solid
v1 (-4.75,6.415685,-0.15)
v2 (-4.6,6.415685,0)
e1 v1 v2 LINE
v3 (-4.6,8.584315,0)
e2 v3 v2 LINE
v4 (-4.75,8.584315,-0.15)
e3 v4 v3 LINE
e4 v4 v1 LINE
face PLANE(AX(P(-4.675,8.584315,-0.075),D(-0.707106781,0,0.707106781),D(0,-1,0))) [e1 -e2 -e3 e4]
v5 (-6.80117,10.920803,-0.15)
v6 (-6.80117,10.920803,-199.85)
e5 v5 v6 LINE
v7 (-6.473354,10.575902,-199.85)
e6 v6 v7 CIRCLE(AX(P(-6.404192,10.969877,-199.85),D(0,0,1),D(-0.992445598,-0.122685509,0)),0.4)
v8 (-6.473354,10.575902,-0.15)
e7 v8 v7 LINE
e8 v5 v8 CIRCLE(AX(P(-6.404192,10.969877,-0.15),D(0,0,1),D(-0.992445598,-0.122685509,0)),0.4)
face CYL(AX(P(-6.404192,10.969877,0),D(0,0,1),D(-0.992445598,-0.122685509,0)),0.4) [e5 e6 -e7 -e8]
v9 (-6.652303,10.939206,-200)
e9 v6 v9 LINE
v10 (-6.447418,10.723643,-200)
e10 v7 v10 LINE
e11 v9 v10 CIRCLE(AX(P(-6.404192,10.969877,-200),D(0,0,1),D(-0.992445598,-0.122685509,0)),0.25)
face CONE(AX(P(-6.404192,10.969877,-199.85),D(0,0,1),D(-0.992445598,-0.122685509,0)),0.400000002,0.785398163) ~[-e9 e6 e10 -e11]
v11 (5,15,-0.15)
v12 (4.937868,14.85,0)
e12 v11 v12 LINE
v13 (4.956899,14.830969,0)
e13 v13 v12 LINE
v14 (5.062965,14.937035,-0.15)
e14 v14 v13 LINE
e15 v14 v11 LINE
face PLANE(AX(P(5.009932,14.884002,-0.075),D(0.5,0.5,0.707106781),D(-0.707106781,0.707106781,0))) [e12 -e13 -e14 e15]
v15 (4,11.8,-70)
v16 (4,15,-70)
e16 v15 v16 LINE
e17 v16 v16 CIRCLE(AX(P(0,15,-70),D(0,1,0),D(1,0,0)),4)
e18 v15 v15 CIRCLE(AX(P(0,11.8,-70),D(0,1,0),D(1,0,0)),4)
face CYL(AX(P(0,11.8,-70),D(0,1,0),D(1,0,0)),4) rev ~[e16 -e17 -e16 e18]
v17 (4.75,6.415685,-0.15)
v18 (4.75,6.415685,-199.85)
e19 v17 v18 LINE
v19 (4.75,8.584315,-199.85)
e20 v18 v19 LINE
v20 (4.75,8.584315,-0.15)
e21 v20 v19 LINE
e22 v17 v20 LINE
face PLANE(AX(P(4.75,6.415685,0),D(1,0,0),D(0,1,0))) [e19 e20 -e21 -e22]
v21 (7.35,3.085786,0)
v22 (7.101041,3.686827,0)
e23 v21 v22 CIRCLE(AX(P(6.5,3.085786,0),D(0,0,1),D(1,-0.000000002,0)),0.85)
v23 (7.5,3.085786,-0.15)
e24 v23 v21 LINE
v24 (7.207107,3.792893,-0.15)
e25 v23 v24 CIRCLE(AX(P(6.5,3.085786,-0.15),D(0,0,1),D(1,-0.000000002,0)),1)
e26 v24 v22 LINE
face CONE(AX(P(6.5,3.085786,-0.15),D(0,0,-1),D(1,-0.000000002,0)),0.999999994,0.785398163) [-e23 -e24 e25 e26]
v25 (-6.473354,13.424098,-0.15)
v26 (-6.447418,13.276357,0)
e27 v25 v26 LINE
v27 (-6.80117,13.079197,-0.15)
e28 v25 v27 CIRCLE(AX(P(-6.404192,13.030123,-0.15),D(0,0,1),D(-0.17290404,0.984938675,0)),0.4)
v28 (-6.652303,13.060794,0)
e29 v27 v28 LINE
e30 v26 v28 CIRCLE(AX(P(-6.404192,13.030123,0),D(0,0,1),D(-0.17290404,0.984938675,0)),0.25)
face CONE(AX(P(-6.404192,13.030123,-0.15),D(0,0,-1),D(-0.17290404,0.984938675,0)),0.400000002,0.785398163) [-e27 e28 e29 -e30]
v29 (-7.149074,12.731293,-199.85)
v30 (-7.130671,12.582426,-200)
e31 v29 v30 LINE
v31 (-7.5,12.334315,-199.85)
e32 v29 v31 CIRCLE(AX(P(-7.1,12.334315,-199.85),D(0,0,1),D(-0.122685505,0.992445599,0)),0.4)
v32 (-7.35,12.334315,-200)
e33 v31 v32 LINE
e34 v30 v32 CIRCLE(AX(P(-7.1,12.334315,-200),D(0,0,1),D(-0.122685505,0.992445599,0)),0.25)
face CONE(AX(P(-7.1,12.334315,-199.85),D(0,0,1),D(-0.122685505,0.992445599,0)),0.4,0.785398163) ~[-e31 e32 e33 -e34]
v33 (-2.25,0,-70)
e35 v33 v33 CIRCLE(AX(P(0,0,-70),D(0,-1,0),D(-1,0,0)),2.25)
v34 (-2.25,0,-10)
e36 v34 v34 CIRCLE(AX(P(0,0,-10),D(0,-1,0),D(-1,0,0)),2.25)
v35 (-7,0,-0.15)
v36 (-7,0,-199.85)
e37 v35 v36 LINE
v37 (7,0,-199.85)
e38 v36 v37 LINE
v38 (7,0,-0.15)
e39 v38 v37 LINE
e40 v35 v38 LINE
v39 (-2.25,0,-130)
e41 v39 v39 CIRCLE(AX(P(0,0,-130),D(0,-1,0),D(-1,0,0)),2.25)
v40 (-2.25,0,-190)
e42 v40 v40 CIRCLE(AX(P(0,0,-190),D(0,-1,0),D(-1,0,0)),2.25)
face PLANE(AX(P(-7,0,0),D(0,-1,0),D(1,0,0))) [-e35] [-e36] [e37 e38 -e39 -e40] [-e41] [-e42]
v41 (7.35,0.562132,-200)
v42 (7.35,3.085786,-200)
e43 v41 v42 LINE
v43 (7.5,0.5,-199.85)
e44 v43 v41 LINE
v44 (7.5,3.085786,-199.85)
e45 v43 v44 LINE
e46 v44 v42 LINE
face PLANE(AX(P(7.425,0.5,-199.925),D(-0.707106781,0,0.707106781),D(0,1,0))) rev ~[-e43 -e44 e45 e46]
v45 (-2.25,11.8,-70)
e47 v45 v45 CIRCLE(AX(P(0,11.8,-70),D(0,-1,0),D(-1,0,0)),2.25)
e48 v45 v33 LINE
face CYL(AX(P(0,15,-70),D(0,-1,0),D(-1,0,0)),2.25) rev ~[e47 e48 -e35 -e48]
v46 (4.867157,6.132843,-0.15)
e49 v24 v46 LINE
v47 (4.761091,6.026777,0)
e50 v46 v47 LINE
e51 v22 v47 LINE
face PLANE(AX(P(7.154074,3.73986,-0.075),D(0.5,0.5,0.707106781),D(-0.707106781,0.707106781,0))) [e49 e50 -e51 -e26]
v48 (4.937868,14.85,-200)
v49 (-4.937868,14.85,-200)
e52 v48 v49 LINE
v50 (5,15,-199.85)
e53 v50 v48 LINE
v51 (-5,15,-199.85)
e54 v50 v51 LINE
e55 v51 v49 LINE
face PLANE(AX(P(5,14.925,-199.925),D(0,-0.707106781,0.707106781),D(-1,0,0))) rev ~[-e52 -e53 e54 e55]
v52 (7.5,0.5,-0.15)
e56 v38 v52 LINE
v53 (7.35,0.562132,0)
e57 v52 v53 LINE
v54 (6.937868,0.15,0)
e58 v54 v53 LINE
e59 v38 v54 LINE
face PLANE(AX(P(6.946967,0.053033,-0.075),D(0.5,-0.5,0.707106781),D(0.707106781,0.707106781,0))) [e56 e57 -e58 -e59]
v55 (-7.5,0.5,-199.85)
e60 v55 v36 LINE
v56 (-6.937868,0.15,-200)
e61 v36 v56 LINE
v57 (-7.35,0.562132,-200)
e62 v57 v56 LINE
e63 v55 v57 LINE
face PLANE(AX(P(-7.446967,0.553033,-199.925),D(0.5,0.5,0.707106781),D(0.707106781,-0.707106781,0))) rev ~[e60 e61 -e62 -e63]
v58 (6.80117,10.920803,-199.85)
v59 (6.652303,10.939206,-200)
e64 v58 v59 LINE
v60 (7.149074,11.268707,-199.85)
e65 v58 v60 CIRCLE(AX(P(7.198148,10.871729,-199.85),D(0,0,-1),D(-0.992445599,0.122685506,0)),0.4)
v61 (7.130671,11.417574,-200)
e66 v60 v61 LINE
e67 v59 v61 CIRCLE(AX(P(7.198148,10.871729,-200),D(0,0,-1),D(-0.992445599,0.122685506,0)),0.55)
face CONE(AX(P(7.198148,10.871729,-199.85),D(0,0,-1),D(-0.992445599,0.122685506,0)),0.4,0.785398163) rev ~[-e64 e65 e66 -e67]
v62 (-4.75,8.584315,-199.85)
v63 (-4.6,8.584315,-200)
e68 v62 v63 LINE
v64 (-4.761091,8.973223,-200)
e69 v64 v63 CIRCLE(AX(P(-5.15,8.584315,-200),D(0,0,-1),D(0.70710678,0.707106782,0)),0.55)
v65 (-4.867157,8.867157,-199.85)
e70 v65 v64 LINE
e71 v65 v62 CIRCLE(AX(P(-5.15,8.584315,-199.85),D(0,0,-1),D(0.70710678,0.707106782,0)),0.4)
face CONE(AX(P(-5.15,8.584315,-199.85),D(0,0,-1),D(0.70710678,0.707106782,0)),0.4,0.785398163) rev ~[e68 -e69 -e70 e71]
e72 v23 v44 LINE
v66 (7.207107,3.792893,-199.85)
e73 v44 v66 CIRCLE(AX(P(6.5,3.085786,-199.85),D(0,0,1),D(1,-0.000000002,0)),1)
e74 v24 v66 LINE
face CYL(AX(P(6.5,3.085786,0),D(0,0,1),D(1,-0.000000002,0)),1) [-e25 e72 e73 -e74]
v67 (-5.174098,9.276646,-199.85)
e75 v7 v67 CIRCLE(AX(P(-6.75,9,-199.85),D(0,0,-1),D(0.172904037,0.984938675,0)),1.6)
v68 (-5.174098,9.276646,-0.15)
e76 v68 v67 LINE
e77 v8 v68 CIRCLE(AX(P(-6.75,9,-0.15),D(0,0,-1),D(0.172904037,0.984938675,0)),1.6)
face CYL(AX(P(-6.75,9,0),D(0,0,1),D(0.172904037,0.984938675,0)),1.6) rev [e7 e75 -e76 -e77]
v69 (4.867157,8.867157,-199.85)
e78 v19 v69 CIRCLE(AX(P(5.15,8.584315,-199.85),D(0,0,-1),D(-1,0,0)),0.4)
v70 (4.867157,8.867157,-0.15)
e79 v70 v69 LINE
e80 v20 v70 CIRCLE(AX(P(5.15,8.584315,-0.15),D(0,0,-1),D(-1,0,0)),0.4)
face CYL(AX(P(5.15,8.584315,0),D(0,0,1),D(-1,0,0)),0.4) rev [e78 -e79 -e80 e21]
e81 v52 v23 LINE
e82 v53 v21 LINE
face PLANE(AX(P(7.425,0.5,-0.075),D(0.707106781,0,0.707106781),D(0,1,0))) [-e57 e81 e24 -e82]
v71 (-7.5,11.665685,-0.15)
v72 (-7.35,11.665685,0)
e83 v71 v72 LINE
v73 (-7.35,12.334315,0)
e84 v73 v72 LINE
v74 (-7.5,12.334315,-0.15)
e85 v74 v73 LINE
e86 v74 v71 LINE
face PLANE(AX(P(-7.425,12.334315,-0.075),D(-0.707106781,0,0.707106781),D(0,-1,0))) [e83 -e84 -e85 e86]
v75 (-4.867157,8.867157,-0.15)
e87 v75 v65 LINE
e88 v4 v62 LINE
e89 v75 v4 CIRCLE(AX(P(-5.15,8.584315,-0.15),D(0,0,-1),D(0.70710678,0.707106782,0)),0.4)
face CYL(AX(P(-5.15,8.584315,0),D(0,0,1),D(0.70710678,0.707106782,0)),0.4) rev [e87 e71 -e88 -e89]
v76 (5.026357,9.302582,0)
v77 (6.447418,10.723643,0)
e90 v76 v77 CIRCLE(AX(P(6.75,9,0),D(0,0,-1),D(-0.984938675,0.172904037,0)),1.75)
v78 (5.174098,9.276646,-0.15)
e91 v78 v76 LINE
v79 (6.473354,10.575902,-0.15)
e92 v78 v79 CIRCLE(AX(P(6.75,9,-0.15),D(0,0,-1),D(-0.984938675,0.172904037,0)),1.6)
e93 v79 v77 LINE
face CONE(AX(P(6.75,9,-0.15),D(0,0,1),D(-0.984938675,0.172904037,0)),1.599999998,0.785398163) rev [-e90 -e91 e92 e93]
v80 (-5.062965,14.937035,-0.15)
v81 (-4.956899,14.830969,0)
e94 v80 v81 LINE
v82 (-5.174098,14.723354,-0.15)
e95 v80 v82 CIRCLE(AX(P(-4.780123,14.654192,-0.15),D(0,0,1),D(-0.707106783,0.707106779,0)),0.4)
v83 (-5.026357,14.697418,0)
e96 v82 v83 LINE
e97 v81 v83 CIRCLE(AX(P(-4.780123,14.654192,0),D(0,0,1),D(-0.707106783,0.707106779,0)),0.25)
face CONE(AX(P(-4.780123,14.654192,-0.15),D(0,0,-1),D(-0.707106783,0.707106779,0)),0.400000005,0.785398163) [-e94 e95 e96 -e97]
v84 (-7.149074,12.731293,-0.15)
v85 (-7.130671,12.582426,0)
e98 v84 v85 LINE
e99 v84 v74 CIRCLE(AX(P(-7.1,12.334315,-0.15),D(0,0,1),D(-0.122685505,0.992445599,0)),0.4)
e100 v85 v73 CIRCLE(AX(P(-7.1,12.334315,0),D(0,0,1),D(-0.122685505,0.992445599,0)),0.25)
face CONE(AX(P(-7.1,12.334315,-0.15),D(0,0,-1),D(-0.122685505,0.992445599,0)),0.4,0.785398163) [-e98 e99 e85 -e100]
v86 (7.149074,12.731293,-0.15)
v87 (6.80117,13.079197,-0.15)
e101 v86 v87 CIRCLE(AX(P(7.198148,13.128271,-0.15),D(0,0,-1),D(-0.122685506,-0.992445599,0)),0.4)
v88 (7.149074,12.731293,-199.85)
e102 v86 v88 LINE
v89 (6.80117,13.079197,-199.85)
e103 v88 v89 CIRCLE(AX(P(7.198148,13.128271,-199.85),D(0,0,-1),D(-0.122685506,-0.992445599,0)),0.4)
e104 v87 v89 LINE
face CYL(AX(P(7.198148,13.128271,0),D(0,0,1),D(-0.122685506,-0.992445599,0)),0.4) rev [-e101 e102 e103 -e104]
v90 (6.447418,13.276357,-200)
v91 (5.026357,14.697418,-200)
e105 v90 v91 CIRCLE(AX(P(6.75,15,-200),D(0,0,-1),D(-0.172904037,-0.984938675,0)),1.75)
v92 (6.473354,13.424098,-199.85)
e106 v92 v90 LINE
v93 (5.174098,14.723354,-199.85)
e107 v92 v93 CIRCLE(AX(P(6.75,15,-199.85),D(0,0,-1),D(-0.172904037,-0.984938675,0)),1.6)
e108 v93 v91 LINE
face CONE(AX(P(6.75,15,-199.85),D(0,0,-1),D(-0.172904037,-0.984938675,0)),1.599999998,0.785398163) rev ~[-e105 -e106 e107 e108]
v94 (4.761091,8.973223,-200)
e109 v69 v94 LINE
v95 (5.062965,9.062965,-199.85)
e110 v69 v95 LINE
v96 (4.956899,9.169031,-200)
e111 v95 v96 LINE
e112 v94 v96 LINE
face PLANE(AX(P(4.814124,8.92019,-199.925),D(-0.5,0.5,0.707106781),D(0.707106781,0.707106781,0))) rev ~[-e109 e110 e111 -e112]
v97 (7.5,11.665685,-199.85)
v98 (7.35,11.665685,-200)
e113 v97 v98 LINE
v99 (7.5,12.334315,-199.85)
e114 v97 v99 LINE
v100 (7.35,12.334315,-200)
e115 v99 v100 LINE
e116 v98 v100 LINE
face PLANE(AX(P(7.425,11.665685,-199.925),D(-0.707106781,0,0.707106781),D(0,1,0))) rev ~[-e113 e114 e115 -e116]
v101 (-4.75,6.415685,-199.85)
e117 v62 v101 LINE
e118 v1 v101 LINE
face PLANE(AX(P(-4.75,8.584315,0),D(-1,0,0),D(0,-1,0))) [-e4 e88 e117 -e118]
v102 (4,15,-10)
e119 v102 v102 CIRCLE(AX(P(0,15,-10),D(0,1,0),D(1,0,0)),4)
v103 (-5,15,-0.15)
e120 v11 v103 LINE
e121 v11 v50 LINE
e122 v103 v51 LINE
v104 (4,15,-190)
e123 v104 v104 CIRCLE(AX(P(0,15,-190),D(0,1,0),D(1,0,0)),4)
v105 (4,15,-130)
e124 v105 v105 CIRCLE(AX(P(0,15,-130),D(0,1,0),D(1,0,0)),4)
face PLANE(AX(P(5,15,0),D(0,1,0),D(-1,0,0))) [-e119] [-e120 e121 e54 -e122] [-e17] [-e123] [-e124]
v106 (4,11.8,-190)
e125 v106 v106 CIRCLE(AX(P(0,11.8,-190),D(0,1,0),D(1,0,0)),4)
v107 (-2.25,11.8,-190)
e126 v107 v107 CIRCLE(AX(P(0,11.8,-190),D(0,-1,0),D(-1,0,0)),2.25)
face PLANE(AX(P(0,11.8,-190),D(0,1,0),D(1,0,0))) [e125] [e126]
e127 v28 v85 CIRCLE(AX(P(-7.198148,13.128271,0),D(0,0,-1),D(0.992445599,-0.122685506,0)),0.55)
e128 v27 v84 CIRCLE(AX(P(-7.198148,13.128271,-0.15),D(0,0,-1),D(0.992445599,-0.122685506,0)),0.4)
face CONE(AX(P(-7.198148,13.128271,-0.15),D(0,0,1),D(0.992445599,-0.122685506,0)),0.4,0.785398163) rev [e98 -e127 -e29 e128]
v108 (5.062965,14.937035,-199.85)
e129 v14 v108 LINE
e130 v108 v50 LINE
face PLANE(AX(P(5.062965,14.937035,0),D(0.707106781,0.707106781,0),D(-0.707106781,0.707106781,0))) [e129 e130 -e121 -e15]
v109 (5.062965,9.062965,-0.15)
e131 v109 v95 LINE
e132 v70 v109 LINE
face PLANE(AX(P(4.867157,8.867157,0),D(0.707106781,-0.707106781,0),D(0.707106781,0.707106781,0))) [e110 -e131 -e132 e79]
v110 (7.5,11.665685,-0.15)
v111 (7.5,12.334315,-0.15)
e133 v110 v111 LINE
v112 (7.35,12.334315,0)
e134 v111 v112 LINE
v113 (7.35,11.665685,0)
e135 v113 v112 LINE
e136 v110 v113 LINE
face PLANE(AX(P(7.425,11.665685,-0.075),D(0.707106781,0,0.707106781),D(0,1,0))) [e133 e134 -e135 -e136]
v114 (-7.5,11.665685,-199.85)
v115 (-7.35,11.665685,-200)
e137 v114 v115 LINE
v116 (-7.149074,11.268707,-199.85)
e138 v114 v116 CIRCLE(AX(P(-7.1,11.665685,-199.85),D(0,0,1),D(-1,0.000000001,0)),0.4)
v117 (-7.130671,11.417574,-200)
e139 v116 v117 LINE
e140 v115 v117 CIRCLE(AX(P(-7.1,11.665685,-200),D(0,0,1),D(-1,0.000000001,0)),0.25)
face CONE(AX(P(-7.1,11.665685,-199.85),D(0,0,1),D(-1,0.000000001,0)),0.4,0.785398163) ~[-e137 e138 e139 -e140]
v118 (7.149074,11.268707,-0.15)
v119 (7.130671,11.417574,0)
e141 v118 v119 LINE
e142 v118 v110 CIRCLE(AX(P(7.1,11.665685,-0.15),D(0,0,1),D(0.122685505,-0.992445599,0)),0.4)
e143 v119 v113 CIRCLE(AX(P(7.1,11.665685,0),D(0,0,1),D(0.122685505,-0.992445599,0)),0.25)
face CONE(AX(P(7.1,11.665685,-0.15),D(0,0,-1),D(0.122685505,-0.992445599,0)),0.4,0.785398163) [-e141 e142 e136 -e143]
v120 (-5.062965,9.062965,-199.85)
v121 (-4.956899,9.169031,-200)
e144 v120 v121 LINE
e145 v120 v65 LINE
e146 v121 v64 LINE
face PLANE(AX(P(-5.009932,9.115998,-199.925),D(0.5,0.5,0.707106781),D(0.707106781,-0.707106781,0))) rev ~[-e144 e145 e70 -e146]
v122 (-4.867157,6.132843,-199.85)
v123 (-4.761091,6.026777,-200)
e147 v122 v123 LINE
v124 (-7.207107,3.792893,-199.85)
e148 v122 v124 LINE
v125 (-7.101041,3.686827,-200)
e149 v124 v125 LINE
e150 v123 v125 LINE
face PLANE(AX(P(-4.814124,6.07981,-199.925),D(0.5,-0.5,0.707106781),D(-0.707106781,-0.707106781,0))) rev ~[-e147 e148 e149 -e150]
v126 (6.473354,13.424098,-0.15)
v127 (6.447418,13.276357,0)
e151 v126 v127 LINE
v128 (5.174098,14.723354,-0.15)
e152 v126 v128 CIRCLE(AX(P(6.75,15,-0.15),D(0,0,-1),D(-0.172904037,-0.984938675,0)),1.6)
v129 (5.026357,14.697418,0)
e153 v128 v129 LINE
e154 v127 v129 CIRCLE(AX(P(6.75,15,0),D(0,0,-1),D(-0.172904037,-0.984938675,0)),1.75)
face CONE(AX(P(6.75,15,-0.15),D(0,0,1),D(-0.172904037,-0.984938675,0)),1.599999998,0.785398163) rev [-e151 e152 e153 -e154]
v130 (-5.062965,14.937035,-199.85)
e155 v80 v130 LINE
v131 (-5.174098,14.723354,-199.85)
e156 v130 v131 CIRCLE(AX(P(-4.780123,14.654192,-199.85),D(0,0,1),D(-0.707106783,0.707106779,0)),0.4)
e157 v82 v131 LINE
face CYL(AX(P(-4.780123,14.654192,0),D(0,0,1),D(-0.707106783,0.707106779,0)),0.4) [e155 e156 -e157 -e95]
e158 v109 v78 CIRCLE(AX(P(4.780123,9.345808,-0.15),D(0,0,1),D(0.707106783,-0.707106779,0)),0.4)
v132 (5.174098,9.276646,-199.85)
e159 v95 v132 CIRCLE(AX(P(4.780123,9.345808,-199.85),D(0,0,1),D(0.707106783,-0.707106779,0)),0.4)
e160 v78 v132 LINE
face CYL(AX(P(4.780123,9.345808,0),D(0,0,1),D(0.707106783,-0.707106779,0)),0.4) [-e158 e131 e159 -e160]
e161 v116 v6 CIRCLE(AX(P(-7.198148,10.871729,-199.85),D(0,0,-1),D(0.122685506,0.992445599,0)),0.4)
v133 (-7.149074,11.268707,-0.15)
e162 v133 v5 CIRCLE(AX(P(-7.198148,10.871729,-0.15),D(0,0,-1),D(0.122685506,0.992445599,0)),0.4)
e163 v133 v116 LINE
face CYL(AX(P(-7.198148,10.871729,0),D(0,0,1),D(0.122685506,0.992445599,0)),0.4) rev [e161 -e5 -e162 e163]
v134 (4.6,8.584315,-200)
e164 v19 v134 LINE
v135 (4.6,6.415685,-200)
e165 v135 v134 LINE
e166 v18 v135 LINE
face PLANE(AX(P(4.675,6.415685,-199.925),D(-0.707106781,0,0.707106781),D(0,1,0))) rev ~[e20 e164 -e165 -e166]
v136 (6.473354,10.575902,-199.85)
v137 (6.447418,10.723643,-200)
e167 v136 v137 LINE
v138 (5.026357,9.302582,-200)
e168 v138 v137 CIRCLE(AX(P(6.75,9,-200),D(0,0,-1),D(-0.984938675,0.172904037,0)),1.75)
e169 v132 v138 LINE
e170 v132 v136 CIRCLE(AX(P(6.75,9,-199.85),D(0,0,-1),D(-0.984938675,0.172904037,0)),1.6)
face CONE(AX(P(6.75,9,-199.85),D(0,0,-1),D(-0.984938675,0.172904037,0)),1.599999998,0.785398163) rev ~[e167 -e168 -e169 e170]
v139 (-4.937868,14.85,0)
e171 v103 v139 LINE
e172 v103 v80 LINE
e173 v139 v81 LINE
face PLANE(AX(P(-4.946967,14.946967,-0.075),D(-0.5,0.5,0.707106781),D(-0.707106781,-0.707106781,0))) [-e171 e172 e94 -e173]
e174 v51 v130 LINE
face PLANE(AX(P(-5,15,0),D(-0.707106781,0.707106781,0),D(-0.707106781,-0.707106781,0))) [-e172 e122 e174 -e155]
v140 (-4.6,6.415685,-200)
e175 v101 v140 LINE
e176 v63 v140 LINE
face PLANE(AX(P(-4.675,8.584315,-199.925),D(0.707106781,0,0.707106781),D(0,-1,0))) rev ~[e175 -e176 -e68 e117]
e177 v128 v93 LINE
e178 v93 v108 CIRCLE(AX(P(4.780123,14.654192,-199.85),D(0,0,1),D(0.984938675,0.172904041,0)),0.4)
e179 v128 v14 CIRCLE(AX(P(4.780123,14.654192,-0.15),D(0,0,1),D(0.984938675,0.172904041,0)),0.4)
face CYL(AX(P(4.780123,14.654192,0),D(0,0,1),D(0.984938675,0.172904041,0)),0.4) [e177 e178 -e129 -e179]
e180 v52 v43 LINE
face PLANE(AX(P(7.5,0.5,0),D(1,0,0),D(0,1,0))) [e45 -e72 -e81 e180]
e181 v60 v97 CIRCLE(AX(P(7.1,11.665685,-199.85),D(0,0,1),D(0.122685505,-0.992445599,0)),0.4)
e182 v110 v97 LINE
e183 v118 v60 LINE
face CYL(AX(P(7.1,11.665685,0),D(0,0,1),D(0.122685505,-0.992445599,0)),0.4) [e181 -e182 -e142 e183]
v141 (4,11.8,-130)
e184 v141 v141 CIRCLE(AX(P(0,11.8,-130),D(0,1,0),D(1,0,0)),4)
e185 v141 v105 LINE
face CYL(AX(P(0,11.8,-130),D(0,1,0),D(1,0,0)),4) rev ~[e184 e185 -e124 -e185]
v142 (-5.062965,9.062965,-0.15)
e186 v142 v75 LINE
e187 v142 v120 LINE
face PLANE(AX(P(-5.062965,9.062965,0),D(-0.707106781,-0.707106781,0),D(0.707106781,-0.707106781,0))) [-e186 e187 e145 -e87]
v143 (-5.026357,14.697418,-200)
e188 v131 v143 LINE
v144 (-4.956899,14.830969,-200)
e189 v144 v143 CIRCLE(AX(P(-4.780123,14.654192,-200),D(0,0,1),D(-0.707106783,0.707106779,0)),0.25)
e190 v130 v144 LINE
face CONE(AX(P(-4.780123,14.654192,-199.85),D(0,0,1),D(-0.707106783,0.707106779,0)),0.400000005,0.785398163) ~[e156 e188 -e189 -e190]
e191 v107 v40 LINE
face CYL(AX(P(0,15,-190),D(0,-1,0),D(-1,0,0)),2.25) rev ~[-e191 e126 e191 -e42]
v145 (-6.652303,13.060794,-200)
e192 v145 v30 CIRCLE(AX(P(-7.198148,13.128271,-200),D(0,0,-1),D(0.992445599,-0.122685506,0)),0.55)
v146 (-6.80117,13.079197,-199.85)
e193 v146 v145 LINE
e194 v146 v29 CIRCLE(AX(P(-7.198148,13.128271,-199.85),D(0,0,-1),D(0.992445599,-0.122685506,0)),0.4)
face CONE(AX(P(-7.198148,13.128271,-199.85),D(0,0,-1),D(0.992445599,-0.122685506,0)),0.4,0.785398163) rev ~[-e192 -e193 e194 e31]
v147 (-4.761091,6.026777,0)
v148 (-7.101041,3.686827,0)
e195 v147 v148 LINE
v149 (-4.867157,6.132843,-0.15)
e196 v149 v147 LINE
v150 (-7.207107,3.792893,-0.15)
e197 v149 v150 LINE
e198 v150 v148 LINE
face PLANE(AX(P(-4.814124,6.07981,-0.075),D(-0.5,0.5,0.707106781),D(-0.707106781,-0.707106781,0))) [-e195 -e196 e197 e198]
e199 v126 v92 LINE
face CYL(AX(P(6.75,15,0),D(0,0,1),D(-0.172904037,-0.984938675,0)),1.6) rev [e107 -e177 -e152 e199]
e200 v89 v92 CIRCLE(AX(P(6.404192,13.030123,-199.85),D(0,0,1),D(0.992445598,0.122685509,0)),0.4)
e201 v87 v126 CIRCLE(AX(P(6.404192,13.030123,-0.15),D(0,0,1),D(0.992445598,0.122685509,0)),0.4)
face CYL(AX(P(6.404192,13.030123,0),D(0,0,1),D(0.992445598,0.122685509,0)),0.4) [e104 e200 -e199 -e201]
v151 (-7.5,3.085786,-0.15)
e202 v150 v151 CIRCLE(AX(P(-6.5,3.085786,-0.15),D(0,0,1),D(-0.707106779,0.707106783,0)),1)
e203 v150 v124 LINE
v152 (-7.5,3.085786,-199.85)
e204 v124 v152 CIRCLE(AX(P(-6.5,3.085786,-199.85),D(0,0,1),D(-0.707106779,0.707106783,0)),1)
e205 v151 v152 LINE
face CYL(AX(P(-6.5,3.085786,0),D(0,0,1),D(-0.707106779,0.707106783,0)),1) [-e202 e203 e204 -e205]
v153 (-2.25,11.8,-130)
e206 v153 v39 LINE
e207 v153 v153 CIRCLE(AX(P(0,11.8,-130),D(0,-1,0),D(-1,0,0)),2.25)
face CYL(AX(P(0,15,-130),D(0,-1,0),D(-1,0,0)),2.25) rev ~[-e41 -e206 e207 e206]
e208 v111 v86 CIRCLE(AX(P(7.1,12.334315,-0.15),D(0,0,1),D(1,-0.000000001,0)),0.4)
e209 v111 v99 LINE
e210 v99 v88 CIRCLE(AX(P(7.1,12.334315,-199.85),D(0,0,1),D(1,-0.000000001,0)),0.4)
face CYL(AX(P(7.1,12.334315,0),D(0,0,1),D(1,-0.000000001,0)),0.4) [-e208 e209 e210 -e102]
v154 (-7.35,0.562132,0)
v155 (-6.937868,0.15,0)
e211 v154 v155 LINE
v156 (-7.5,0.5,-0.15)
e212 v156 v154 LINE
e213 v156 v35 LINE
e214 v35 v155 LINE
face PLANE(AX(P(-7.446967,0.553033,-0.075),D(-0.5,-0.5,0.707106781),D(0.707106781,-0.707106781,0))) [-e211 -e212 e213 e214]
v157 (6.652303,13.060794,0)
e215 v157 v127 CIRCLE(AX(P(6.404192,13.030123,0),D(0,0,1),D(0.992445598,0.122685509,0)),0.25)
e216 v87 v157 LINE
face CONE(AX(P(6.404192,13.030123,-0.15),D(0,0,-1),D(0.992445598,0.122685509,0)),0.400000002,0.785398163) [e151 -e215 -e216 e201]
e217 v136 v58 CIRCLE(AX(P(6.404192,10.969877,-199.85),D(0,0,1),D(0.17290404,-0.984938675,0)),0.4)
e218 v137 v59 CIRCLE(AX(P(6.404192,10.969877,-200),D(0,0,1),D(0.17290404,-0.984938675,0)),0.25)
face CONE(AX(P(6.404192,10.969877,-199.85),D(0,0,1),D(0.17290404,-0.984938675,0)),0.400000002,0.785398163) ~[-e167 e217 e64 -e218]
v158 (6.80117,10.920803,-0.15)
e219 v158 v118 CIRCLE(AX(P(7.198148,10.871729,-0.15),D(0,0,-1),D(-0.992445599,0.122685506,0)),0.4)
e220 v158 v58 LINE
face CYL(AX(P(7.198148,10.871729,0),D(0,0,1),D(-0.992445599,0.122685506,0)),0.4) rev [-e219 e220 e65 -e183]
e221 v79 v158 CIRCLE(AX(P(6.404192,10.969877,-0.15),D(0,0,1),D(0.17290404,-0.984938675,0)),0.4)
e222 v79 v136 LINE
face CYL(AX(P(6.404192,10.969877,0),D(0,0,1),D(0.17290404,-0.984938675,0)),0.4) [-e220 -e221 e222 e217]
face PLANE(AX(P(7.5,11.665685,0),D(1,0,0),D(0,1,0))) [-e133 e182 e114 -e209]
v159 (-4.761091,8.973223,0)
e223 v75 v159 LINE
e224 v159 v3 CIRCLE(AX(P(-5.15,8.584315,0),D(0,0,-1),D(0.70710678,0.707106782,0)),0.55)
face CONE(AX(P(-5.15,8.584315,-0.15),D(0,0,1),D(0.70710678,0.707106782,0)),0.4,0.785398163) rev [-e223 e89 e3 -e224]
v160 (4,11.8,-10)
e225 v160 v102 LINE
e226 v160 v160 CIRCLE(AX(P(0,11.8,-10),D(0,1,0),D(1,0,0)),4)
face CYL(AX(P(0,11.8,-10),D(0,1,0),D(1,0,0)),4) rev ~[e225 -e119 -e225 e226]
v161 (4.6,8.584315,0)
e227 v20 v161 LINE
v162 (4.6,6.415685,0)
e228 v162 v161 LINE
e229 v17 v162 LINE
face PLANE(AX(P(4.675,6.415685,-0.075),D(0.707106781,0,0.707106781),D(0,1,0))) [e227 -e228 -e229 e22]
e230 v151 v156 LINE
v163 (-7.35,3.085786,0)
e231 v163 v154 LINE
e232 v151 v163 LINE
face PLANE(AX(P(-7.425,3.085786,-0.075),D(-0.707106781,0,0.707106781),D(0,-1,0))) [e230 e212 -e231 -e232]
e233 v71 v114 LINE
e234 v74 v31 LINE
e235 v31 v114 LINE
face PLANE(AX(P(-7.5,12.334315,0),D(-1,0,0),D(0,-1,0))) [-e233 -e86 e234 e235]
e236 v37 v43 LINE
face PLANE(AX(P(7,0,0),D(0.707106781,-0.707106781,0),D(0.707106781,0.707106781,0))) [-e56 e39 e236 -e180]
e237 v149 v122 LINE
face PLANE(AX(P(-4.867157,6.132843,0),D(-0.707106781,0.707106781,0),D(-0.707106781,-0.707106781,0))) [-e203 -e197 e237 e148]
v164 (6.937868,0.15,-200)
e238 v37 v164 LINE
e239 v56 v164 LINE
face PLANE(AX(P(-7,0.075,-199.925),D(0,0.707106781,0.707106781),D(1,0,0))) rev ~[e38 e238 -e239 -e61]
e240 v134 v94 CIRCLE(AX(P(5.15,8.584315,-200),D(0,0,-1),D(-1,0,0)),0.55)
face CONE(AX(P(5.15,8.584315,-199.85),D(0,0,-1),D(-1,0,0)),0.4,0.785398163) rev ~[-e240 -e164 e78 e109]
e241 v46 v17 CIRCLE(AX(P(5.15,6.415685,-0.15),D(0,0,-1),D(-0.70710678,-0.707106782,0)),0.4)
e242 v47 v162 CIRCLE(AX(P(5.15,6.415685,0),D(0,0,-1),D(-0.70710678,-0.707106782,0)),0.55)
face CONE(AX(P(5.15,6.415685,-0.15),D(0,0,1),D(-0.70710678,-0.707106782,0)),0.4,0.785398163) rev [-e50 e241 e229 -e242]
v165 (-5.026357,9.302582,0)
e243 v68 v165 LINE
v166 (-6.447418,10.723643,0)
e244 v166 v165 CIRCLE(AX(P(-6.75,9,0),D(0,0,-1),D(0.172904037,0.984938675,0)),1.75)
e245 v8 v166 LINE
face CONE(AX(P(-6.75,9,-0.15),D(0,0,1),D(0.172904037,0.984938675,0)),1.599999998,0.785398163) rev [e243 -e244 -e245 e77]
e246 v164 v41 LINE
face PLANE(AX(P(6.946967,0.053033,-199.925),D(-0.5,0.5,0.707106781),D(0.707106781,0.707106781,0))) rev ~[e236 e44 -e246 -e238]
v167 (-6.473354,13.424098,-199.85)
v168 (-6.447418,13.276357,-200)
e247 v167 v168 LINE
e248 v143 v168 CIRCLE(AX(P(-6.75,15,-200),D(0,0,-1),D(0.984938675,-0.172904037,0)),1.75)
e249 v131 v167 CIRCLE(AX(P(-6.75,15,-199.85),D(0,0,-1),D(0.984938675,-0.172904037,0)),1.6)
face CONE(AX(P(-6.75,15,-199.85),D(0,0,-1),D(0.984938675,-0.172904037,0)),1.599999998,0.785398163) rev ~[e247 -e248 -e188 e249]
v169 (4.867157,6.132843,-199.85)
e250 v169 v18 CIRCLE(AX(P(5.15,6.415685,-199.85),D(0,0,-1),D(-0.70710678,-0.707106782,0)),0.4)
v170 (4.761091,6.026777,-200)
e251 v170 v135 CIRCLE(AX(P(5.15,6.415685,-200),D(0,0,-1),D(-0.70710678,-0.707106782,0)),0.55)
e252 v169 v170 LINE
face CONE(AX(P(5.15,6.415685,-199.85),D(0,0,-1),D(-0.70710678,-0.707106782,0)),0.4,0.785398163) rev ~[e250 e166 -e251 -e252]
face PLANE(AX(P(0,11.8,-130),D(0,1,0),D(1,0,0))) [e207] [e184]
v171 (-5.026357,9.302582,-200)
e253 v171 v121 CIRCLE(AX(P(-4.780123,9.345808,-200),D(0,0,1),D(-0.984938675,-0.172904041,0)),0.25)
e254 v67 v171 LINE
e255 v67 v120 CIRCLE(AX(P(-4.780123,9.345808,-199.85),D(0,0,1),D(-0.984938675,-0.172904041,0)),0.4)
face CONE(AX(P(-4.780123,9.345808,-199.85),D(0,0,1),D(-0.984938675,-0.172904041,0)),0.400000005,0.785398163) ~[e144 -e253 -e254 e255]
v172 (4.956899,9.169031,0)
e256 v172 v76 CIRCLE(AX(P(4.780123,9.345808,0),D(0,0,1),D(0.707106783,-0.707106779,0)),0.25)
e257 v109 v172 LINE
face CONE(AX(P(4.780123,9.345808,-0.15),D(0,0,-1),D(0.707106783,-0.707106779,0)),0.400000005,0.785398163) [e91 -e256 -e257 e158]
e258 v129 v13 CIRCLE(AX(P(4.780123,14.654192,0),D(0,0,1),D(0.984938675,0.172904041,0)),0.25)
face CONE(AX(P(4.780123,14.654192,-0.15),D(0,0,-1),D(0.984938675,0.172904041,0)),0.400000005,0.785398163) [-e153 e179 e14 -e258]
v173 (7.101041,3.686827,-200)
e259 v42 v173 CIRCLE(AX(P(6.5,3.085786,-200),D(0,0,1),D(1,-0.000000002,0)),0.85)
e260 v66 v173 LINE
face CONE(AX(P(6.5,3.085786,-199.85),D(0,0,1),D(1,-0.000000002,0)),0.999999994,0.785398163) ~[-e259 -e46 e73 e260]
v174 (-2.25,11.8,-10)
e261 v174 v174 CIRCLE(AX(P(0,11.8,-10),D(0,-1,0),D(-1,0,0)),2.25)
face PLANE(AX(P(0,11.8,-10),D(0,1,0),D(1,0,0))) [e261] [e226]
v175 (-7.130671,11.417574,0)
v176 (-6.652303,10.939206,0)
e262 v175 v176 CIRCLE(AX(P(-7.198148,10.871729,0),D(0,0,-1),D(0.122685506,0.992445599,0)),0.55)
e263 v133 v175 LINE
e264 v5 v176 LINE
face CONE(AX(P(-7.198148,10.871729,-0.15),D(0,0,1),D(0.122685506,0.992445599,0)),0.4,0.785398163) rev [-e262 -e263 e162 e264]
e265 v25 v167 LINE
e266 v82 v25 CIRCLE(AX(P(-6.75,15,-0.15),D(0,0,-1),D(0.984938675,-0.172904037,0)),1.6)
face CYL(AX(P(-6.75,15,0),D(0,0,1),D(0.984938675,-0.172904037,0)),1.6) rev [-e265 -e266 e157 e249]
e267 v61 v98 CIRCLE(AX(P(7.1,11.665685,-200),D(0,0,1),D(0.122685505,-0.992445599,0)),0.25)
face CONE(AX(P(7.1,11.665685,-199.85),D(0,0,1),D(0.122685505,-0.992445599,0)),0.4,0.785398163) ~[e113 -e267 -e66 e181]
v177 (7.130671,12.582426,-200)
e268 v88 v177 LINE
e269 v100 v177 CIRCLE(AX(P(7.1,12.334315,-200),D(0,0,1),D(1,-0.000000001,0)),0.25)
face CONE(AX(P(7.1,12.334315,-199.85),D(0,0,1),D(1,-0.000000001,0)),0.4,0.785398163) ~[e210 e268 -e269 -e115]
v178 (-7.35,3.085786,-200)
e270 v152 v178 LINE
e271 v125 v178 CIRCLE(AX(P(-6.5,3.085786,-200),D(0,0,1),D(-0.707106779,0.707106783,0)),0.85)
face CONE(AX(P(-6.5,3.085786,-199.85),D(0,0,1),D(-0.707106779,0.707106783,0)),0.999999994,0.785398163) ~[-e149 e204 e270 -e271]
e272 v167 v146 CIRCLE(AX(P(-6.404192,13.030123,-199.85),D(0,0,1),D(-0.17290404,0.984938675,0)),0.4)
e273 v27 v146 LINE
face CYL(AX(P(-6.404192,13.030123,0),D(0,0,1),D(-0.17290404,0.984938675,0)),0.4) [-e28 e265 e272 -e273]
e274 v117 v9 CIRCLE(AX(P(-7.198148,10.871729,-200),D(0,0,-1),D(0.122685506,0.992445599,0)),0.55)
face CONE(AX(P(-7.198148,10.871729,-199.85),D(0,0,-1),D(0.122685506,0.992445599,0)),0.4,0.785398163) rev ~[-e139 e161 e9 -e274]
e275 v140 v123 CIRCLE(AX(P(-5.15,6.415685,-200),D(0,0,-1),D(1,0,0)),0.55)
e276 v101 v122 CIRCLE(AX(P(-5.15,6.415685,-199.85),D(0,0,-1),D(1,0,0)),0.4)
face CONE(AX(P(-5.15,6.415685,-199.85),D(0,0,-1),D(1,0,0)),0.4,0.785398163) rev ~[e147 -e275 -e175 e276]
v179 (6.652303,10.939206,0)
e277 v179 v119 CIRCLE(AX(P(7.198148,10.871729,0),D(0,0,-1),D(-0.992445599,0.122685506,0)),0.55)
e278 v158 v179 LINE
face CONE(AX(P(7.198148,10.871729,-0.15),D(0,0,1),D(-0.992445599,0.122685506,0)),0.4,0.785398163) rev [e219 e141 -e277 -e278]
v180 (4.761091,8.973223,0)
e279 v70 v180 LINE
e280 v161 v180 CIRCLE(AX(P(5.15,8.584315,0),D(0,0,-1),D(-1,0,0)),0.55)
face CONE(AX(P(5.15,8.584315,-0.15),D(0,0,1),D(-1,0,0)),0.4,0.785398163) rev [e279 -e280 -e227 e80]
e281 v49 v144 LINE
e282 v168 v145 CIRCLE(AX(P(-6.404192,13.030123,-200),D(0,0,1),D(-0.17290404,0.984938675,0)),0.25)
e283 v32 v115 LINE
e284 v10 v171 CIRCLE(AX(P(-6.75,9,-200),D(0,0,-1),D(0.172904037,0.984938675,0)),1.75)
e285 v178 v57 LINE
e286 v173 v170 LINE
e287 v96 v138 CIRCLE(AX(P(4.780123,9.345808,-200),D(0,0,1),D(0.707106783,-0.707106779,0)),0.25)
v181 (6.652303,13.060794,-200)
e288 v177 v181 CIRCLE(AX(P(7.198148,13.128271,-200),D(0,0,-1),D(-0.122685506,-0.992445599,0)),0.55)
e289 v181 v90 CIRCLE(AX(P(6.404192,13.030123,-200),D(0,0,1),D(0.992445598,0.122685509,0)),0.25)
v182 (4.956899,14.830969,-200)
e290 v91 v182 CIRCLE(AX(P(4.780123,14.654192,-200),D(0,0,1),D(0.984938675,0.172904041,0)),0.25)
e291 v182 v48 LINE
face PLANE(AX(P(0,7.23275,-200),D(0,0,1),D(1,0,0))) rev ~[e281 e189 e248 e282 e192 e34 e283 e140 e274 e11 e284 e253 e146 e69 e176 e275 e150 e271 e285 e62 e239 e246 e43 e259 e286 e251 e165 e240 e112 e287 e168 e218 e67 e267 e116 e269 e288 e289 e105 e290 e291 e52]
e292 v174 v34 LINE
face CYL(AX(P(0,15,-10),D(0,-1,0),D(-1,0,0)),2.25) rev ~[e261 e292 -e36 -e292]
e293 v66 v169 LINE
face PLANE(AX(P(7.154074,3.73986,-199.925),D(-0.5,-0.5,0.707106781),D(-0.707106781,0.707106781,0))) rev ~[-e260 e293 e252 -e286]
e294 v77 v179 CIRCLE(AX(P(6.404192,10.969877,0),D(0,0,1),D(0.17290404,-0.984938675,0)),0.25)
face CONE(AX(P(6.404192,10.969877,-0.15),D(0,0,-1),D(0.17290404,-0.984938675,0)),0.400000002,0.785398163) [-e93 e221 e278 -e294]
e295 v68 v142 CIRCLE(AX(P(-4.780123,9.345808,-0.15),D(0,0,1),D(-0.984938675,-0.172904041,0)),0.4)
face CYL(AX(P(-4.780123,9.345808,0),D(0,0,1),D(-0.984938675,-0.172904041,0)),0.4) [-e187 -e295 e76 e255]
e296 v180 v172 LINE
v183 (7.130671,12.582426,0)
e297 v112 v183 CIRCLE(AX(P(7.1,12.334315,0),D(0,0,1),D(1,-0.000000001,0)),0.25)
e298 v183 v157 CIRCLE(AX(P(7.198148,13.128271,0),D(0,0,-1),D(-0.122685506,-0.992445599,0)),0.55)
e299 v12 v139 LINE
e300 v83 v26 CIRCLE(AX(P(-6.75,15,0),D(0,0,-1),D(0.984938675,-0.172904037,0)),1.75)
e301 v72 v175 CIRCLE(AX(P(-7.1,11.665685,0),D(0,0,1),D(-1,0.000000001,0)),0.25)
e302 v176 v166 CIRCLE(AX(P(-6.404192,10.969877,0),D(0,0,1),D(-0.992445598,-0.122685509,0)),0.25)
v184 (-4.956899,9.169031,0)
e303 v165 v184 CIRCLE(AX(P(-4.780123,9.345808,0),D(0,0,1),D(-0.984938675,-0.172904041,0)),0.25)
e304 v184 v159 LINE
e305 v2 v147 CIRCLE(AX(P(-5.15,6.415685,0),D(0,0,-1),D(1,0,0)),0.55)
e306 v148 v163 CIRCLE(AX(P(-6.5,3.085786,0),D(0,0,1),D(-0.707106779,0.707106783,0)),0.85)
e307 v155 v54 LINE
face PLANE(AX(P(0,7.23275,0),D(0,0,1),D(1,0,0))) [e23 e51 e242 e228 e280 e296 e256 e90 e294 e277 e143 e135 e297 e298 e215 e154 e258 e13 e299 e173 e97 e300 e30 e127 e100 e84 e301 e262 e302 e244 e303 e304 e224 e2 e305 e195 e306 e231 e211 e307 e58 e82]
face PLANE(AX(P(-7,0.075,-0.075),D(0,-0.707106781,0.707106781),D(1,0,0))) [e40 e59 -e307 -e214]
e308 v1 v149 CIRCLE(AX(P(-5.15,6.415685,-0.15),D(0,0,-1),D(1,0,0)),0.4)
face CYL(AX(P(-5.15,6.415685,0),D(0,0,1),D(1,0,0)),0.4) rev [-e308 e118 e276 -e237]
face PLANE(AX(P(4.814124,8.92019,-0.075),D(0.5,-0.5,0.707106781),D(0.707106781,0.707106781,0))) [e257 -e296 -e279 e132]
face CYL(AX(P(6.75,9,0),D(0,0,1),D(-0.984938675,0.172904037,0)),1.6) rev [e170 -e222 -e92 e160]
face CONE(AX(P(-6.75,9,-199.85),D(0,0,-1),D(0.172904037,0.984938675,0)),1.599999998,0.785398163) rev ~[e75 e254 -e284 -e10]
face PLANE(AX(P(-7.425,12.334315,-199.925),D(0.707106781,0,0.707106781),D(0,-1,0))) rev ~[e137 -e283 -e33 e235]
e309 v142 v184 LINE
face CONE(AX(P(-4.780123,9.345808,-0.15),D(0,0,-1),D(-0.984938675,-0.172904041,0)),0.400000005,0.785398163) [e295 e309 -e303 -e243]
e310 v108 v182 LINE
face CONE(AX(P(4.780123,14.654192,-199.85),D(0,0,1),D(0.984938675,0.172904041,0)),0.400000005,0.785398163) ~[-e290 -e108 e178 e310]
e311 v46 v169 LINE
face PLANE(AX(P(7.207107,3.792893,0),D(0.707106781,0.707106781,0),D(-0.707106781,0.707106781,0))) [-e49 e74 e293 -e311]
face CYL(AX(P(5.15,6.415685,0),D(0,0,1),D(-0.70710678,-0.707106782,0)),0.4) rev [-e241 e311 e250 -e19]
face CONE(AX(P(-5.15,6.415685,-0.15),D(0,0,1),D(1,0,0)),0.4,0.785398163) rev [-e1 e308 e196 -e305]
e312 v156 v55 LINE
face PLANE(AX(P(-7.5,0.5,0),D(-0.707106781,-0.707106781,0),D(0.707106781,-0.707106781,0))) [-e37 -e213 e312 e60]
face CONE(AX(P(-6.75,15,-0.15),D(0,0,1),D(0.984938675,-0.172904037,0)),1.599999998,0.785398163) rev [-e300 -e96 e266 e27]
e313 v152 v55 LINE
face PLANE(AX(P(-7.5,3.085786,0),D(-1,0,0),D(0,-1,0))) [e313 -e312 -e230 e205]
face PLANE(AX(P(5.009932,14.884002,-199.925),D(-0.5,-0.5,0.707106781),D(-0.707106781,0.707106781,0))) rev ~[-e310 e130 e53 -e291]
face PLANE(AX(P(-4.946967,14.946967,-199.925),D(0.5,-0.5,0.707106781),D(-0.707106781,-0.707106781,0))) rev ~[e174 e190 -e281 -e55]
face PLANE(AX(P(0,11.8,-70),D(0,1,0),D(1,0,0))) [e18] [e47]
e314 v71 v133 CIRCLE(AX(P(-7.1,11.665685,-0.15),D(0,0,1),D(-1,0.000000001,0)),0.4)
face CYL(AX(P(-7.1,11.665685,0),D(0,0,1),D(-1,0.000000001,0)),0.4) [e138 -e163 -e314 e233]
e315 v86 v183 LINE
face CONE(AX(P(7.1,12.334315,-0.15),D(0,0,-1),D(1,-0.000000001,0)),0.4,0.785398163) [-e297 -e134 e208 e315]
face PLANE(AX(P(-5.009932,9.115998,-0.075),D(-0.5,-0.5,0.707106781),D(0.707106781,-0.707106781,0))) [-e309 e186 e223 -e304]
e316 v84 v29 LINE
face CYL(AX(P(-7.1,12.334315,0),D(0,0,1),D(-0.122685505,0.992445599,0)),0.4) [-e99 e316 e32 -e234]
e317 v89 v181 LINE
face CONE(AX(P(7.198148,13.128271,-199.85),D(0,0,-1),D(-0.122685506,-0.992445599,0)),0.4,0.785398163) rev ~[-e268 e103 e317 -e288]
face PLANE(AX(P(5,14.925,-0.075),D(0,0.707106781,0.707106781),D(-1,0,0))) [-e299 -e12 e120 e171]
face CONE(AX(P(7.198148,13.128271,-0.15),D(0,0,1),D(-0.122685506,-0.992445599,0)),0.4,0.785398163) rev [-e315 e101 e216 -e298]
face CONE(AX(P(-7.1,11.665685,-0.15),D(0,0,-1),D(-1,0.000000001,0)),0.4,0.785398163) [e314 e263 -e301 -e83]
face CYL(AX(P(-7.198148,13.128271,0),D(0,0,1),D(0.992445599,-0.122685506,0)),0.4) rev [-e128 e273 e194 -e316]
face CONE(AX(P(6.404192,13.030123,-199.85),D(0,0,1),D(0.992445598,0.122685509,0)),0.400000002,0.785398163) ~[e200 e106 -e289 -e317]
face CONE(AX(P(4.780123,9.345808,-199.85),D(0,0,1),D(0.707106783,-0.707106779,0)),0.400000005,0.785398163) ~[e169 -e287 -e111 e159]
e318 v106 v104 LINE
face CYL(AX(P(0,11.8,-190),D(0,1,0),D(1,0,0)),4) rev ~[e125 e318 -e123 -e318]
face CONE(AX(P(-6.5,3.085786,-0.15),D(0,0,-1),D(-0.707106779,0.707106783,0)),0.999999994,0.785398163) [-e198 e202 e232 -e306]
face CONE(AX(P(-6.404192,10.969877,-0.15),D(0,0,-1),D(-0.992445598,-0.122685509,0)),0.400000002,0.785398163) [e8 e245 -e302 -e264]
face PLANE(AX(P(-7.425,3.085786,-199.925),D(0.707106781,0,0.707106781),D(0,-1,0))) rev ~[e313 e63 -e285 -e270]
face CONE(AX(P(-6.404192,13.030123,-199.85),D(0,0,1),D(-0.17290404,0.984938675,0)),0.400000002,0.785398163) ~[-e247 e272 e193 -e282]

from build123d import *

# Parameters (mm, degrees)
BODY_DEPTH                                          = 200
AESTHETIC_CHAMFER_SIZE                              = 0.15
CBORE_FOR_M4_HEX_SOCKET_HEAD_CAP_SCREW1_D           = 4.5
CBORE_FOR_M4_HEX_SOCKET_HEAD_CAP_SCREW1_CBORE_D     = 8
CBORE_FOR_M4_HEX_SOCKET_HEAD_CAP_SCREW1_CBORE_DEPTH = 3.2
LPATTERN1_COUNT                                     = 4
LPATTERN1_PITCH                                     = 60


with BuildPart() as part:
    # Rail Profile → Body (new body)
    with BuildSketch(Plane.XY):
        with BuildLine():
            Line((-7, 0), (7, 0))
            Line((7, 0), (7.5, 0.5))
            Line((7.5, 0.5), (7.5, 3.085786438))
            ThreePointArc((7.5, 3.085786438), (7.423879533, 3.46846987), (7.207106781, 3.792893219))
            Line((7.207106781, 3.792893219), (4.867157288, 6.132842712))
            ThreePointArc((4.867157288, 6.132842712), (4.780448187, 6.262612052), (4.75, 6.415685425))
            Line((4.75, 6.415685425), (4.75, 8.584314575))
            ThreePointArc((4.75, 8.584314575), (4.780448187, 8.737387948), (4.867157288, 8.867157288))
            Line((4.867157288, 8.867157288), (5.062965362, 9.062965362))
            ThreePointArc((5.062965362, 9.062965362), (5.134996734, 9.161242682), (5.17409812, 9.27664646))
            ThreePointArc((5.17409812, 9.27664646), (5.61862915, 10.13137085), (6.47335354, 10.57590188))
            ThreePointArc((6.47335354, 10.57590188), (6.694124352, 10.694306692), (6.801170165, 10.920803148))
            ThreePointArc((6.801170165, 10.920803148), (6.915305692, 11.154571658), (7.149074202, 11.268707185))
            ThreePointArc((7.149074202, 11.268707185), (7.399691242, 11.400760606), (7.5, 11.665685425))
            Line((7.5, 11.665685425), (7.5, 12.334314575))
            ThreePointArc((7.5, 12.334314575), (7.399691242, 12.599239394), (7.149074202, 12.731292815))
            ThreePointArc((7.149074202, 12.731292815), (6.915305692, 12.845428342), (6.801170165, 13.079196852))
            ThreePointArc((6.801170165, 13.079196852), (6.694124352, 13.305693308), (6.47335354, 13.42409812))
            ThreePointArc((6.47335354, 13.42409812), (5.61862915, 13.86862915), (5.17409812, 14.72335354))
            ThreePointArc((5.17409812, 14.72335354), (5.134996734, 14.838757318), (5.062965362, 14.937034638))
            Line((5.062965362, 14.937034638), (5, 15))
            Line((5, 15), (-5, 15))
            Line((-5, 15), (-5.062965362, 14.937034638))
            ThreePointArc((-5.062965362, 14.937034638), (-5.134996734, 14.838757318), (-5.17409812, 14.72335354))
            ThreePointArc((-5.17409812, 14.72335354), (-5.61862915, 13.86862915), (-6.47335354, 13.42409812))
            ThreePointArc((-6.47335354, 13.42409812), (-6.694124352, 13.305693308), (-6.801170165, 13.079196852))
            ThreePointArc((-6.801170165, 13.079196852), (-6.915305692, 12.845428342), (-7.149074202, 12.731292815))
            ThreePointArc((-7.149074202, 12.731292815), (-7.399691242, 12.599239394), (-7.5, 12.334314575))
            Line((-7.5, 12.334314575), (-7.5, 11.665685425))
            ThreePointArc((-7.5, 11.665685425), (-7.399691242, 11.400760606), (-7.149074202, 11.268707185))
            ThreePointArc((-7.149074202, 11.268707185), (-6.915305692, 11.154571658), (-6.801170165, 10.920803148))
            ThreePointArc((-6.801170165, 10.920803148), (-6.694124352, 10.694306692), (-6.47335354, 10.57590188))
            ThreePointArc((-6.47335354, 10.57590188), (-5.61862915, 10.13137085), (-5.17409812, 9.27664646))
            ThreePointArc((-5.17409812, 9.27664646), (-5.134996734, 9.161242682), (-5.062965362, 9.062965362))
            Line((-5.062965362, 9.062965362), (-4.867157288, 8.867157288))
            ThreePointArc((-4.867157288, 8.867157288), (-4.780448187, 8.737387948), (-4.75, 8.584314575))
            Line((-4.75, 8.584314575), (-4.75, 6.415685425))
            ThreePointArc((-4.75, 6.415685425), (-4.780448187, 6.262612052), (-4.867157288, 6.132842712))
            Line((-4.867157288, 6.132842712), (-7.207106781, 3.792893219))
            ThreePointArc((-7.207106781, 3.792893219), (-7.423879533, 3.46846987), (-7.5, 3.085786438))
            Line((-7.5, 3.085786438), (-7.5, 0.5))
            Line((-7.5, 0.5), (-7, 0))
        make_face()
    extrude(amount=-BODY_DEPTH)

    # Aesthetic Chamfer
    aesthetic_chamfer_edges = [part.edges().sort_by_distance(p)[0] for p in [
        (7.423879533, 3.46846987, -200),
        (-5.134996734, 9.161242682, -200),
        (-4.965061325, 8.965061325, -200),
        (-4.780448187, 8.737387948, -200),
        (-4.75, 7.5, -200),
        (-4.780448187, 6.262612052, -200),
        (-6.037132034, 4.962867966, -200),
        (-7.423879533, 3.46846987, -200),
        (-7.5, 1.792893219, -200),
        (-7.25, 0.25, -200),
        (0, 0, -200),
        (6.037132034, 4.962867966, -200),
        (4.780448187, 6.262612052, -200),
        (4.75, 7.5, -200),
        (4.780448187, 8.737387948, -200),
        (4.965061325, 8.965061325, -200),
        (5.134996734, 9.161242682, -200),
        (5.61862915, 10.13137085, -200),
        (6.694124352, 10.694306692, -200),
        (0, 0, 0),
        (-7.25, 0.25, 0),
        (-7.5, 1.792893219, 0),
        (-7.423879533, 3.46846987, 0),
        (-6.037132034, 4.962867966, 0),
        (-4.780448187, 6.262612052, 0),
        (6.915305692, 11.154571658, -200),
        (-4.75, 7.5, 0),
        (-4.780448187, 8.737387948, 0),
        (-4.965061325, 8.965061325, 0),
        (-5.134996734, 9.161242682, 0),
        (-5.61862915, 10.13137085, 0),
        (-6.694124352, 10.694306692, 0),
        (-6.915305692, 11.154571658, 0),
        (7.25, 0.25, -200),
        (7.399691242, 11.400760606, -200),
        (-7.399691242, 11.400760606, 0),
        (-7.5, 12, 0),
        (-7.399691242, 12.599239394, 0),
        (-6.915305692, 12.845428342, 0),
        (-6.694124352, 13.305693308, 0),
        (-5.61862915, 13.86862915, 0),
        (-5.134996734, 14.838757318, 0),
        (-5.031482681, 14.968517319, 0),
        (7.5, 12, -200),
        (0, 15, 0),
        (5.031482681, 14.968517319, 0),
        (5.134996734, 14.838757318, 0),
        (5.61862915, 13.86862915, 0),
        (6.694124352, 13.305693308, 0),
        (6.915305692, 12.845428342, 0),
        (7.399691242, 12.599239394, 0),
        (7.399691242, 12.599239394, -200),
        (7.5, 12, 0),
        (7.399691242, 11.400760606, 0),
        (6.915305692, 11.154571658, 0),
        (6.694124352, 10.694306692, 0),
        (5.61862915, 10.13137085, 0),
        (5.134996734, 9.161242682, 0),
        (4.965061325, 8.965061325, 0),
        (4.780448187, 8.737387948, 0),
        (6.915305692, 12.845428342, -200),
        (4.75, 7.5, 0),
        (4.780448187, 6.262612052, 0),
        (6.037132034, 4.962867966, 0),
        (7.423879533, 3.46846987, 0),
        (7.5, 1.792893219, 0),
        (7.25, 0.25, 0),
        (6.694124352, 13.305693308, -200),
        (5.61862915, 13.86862915, -200),
        (5.134996734, 14.838757318, -200),
        (5.031482681, 14.968517319, -200),
        (0, 15, -200),
        (-5.031482681, 14.968517319, -200),
        (7.5, 1.792893219, -200),
        (-5.134996734, 14.838757318, -200),
        (-5.61862915, 13.86862915, -200),
        (-6.694124352, 13.305693308, -200),
        (-6.915305692, 12.845428342, -200),
        (-7.399691242, 12.599239394, -200),
        (-7.5, 12, -200),
        (-7.399691242, 11.400760606, -200),
        (-6.915305692, 11.154571658, -200),
        (-6.694124352, 10.694306692, -200),
        (-5.61862915, 10.13137085, -200),
    ]]
    chamfer(aesthetic_chamfer_edges, length=AESTHETIC_CHAMFER_SIZE)

    # CBORE for M4 Hex Socket Head Cap Screw1 (through all)
    with Locations(Plane(origin=(0, 15, 0), x_dir=(1, 0, 0), z_dir=(0, 1, 0))):
        with Locations((0, 10)):
            cbore_for_m4_hex_socket_head_cap_screw1 = CounterBoreHole(CBORE_FOR_M4_HEX_SOCKET_HEAD_CAP_SCREW1_D / 2, CBORE_FOR_M4_HEX_SOCKET_HEAD_CAP_SCREW1_CBORE_D / 2, CBORE_FOR_M4_HEX_SOCKET_HEAD_CAP_SCREW1_CBORE_DEPTH)

    # LPattern1: CBORE for M4 Hex Socket Head Cap Screw1 ×4
    with Locations(*[(0, 0, -i * LPATTERN1_PITCH) for i in range(1, LPATTERN1_COUNT)]):
        add(cbore_for_m4_hex_socket_head_cap_screw1, mode=Mode.SUBTRACT)


solid = part.part
